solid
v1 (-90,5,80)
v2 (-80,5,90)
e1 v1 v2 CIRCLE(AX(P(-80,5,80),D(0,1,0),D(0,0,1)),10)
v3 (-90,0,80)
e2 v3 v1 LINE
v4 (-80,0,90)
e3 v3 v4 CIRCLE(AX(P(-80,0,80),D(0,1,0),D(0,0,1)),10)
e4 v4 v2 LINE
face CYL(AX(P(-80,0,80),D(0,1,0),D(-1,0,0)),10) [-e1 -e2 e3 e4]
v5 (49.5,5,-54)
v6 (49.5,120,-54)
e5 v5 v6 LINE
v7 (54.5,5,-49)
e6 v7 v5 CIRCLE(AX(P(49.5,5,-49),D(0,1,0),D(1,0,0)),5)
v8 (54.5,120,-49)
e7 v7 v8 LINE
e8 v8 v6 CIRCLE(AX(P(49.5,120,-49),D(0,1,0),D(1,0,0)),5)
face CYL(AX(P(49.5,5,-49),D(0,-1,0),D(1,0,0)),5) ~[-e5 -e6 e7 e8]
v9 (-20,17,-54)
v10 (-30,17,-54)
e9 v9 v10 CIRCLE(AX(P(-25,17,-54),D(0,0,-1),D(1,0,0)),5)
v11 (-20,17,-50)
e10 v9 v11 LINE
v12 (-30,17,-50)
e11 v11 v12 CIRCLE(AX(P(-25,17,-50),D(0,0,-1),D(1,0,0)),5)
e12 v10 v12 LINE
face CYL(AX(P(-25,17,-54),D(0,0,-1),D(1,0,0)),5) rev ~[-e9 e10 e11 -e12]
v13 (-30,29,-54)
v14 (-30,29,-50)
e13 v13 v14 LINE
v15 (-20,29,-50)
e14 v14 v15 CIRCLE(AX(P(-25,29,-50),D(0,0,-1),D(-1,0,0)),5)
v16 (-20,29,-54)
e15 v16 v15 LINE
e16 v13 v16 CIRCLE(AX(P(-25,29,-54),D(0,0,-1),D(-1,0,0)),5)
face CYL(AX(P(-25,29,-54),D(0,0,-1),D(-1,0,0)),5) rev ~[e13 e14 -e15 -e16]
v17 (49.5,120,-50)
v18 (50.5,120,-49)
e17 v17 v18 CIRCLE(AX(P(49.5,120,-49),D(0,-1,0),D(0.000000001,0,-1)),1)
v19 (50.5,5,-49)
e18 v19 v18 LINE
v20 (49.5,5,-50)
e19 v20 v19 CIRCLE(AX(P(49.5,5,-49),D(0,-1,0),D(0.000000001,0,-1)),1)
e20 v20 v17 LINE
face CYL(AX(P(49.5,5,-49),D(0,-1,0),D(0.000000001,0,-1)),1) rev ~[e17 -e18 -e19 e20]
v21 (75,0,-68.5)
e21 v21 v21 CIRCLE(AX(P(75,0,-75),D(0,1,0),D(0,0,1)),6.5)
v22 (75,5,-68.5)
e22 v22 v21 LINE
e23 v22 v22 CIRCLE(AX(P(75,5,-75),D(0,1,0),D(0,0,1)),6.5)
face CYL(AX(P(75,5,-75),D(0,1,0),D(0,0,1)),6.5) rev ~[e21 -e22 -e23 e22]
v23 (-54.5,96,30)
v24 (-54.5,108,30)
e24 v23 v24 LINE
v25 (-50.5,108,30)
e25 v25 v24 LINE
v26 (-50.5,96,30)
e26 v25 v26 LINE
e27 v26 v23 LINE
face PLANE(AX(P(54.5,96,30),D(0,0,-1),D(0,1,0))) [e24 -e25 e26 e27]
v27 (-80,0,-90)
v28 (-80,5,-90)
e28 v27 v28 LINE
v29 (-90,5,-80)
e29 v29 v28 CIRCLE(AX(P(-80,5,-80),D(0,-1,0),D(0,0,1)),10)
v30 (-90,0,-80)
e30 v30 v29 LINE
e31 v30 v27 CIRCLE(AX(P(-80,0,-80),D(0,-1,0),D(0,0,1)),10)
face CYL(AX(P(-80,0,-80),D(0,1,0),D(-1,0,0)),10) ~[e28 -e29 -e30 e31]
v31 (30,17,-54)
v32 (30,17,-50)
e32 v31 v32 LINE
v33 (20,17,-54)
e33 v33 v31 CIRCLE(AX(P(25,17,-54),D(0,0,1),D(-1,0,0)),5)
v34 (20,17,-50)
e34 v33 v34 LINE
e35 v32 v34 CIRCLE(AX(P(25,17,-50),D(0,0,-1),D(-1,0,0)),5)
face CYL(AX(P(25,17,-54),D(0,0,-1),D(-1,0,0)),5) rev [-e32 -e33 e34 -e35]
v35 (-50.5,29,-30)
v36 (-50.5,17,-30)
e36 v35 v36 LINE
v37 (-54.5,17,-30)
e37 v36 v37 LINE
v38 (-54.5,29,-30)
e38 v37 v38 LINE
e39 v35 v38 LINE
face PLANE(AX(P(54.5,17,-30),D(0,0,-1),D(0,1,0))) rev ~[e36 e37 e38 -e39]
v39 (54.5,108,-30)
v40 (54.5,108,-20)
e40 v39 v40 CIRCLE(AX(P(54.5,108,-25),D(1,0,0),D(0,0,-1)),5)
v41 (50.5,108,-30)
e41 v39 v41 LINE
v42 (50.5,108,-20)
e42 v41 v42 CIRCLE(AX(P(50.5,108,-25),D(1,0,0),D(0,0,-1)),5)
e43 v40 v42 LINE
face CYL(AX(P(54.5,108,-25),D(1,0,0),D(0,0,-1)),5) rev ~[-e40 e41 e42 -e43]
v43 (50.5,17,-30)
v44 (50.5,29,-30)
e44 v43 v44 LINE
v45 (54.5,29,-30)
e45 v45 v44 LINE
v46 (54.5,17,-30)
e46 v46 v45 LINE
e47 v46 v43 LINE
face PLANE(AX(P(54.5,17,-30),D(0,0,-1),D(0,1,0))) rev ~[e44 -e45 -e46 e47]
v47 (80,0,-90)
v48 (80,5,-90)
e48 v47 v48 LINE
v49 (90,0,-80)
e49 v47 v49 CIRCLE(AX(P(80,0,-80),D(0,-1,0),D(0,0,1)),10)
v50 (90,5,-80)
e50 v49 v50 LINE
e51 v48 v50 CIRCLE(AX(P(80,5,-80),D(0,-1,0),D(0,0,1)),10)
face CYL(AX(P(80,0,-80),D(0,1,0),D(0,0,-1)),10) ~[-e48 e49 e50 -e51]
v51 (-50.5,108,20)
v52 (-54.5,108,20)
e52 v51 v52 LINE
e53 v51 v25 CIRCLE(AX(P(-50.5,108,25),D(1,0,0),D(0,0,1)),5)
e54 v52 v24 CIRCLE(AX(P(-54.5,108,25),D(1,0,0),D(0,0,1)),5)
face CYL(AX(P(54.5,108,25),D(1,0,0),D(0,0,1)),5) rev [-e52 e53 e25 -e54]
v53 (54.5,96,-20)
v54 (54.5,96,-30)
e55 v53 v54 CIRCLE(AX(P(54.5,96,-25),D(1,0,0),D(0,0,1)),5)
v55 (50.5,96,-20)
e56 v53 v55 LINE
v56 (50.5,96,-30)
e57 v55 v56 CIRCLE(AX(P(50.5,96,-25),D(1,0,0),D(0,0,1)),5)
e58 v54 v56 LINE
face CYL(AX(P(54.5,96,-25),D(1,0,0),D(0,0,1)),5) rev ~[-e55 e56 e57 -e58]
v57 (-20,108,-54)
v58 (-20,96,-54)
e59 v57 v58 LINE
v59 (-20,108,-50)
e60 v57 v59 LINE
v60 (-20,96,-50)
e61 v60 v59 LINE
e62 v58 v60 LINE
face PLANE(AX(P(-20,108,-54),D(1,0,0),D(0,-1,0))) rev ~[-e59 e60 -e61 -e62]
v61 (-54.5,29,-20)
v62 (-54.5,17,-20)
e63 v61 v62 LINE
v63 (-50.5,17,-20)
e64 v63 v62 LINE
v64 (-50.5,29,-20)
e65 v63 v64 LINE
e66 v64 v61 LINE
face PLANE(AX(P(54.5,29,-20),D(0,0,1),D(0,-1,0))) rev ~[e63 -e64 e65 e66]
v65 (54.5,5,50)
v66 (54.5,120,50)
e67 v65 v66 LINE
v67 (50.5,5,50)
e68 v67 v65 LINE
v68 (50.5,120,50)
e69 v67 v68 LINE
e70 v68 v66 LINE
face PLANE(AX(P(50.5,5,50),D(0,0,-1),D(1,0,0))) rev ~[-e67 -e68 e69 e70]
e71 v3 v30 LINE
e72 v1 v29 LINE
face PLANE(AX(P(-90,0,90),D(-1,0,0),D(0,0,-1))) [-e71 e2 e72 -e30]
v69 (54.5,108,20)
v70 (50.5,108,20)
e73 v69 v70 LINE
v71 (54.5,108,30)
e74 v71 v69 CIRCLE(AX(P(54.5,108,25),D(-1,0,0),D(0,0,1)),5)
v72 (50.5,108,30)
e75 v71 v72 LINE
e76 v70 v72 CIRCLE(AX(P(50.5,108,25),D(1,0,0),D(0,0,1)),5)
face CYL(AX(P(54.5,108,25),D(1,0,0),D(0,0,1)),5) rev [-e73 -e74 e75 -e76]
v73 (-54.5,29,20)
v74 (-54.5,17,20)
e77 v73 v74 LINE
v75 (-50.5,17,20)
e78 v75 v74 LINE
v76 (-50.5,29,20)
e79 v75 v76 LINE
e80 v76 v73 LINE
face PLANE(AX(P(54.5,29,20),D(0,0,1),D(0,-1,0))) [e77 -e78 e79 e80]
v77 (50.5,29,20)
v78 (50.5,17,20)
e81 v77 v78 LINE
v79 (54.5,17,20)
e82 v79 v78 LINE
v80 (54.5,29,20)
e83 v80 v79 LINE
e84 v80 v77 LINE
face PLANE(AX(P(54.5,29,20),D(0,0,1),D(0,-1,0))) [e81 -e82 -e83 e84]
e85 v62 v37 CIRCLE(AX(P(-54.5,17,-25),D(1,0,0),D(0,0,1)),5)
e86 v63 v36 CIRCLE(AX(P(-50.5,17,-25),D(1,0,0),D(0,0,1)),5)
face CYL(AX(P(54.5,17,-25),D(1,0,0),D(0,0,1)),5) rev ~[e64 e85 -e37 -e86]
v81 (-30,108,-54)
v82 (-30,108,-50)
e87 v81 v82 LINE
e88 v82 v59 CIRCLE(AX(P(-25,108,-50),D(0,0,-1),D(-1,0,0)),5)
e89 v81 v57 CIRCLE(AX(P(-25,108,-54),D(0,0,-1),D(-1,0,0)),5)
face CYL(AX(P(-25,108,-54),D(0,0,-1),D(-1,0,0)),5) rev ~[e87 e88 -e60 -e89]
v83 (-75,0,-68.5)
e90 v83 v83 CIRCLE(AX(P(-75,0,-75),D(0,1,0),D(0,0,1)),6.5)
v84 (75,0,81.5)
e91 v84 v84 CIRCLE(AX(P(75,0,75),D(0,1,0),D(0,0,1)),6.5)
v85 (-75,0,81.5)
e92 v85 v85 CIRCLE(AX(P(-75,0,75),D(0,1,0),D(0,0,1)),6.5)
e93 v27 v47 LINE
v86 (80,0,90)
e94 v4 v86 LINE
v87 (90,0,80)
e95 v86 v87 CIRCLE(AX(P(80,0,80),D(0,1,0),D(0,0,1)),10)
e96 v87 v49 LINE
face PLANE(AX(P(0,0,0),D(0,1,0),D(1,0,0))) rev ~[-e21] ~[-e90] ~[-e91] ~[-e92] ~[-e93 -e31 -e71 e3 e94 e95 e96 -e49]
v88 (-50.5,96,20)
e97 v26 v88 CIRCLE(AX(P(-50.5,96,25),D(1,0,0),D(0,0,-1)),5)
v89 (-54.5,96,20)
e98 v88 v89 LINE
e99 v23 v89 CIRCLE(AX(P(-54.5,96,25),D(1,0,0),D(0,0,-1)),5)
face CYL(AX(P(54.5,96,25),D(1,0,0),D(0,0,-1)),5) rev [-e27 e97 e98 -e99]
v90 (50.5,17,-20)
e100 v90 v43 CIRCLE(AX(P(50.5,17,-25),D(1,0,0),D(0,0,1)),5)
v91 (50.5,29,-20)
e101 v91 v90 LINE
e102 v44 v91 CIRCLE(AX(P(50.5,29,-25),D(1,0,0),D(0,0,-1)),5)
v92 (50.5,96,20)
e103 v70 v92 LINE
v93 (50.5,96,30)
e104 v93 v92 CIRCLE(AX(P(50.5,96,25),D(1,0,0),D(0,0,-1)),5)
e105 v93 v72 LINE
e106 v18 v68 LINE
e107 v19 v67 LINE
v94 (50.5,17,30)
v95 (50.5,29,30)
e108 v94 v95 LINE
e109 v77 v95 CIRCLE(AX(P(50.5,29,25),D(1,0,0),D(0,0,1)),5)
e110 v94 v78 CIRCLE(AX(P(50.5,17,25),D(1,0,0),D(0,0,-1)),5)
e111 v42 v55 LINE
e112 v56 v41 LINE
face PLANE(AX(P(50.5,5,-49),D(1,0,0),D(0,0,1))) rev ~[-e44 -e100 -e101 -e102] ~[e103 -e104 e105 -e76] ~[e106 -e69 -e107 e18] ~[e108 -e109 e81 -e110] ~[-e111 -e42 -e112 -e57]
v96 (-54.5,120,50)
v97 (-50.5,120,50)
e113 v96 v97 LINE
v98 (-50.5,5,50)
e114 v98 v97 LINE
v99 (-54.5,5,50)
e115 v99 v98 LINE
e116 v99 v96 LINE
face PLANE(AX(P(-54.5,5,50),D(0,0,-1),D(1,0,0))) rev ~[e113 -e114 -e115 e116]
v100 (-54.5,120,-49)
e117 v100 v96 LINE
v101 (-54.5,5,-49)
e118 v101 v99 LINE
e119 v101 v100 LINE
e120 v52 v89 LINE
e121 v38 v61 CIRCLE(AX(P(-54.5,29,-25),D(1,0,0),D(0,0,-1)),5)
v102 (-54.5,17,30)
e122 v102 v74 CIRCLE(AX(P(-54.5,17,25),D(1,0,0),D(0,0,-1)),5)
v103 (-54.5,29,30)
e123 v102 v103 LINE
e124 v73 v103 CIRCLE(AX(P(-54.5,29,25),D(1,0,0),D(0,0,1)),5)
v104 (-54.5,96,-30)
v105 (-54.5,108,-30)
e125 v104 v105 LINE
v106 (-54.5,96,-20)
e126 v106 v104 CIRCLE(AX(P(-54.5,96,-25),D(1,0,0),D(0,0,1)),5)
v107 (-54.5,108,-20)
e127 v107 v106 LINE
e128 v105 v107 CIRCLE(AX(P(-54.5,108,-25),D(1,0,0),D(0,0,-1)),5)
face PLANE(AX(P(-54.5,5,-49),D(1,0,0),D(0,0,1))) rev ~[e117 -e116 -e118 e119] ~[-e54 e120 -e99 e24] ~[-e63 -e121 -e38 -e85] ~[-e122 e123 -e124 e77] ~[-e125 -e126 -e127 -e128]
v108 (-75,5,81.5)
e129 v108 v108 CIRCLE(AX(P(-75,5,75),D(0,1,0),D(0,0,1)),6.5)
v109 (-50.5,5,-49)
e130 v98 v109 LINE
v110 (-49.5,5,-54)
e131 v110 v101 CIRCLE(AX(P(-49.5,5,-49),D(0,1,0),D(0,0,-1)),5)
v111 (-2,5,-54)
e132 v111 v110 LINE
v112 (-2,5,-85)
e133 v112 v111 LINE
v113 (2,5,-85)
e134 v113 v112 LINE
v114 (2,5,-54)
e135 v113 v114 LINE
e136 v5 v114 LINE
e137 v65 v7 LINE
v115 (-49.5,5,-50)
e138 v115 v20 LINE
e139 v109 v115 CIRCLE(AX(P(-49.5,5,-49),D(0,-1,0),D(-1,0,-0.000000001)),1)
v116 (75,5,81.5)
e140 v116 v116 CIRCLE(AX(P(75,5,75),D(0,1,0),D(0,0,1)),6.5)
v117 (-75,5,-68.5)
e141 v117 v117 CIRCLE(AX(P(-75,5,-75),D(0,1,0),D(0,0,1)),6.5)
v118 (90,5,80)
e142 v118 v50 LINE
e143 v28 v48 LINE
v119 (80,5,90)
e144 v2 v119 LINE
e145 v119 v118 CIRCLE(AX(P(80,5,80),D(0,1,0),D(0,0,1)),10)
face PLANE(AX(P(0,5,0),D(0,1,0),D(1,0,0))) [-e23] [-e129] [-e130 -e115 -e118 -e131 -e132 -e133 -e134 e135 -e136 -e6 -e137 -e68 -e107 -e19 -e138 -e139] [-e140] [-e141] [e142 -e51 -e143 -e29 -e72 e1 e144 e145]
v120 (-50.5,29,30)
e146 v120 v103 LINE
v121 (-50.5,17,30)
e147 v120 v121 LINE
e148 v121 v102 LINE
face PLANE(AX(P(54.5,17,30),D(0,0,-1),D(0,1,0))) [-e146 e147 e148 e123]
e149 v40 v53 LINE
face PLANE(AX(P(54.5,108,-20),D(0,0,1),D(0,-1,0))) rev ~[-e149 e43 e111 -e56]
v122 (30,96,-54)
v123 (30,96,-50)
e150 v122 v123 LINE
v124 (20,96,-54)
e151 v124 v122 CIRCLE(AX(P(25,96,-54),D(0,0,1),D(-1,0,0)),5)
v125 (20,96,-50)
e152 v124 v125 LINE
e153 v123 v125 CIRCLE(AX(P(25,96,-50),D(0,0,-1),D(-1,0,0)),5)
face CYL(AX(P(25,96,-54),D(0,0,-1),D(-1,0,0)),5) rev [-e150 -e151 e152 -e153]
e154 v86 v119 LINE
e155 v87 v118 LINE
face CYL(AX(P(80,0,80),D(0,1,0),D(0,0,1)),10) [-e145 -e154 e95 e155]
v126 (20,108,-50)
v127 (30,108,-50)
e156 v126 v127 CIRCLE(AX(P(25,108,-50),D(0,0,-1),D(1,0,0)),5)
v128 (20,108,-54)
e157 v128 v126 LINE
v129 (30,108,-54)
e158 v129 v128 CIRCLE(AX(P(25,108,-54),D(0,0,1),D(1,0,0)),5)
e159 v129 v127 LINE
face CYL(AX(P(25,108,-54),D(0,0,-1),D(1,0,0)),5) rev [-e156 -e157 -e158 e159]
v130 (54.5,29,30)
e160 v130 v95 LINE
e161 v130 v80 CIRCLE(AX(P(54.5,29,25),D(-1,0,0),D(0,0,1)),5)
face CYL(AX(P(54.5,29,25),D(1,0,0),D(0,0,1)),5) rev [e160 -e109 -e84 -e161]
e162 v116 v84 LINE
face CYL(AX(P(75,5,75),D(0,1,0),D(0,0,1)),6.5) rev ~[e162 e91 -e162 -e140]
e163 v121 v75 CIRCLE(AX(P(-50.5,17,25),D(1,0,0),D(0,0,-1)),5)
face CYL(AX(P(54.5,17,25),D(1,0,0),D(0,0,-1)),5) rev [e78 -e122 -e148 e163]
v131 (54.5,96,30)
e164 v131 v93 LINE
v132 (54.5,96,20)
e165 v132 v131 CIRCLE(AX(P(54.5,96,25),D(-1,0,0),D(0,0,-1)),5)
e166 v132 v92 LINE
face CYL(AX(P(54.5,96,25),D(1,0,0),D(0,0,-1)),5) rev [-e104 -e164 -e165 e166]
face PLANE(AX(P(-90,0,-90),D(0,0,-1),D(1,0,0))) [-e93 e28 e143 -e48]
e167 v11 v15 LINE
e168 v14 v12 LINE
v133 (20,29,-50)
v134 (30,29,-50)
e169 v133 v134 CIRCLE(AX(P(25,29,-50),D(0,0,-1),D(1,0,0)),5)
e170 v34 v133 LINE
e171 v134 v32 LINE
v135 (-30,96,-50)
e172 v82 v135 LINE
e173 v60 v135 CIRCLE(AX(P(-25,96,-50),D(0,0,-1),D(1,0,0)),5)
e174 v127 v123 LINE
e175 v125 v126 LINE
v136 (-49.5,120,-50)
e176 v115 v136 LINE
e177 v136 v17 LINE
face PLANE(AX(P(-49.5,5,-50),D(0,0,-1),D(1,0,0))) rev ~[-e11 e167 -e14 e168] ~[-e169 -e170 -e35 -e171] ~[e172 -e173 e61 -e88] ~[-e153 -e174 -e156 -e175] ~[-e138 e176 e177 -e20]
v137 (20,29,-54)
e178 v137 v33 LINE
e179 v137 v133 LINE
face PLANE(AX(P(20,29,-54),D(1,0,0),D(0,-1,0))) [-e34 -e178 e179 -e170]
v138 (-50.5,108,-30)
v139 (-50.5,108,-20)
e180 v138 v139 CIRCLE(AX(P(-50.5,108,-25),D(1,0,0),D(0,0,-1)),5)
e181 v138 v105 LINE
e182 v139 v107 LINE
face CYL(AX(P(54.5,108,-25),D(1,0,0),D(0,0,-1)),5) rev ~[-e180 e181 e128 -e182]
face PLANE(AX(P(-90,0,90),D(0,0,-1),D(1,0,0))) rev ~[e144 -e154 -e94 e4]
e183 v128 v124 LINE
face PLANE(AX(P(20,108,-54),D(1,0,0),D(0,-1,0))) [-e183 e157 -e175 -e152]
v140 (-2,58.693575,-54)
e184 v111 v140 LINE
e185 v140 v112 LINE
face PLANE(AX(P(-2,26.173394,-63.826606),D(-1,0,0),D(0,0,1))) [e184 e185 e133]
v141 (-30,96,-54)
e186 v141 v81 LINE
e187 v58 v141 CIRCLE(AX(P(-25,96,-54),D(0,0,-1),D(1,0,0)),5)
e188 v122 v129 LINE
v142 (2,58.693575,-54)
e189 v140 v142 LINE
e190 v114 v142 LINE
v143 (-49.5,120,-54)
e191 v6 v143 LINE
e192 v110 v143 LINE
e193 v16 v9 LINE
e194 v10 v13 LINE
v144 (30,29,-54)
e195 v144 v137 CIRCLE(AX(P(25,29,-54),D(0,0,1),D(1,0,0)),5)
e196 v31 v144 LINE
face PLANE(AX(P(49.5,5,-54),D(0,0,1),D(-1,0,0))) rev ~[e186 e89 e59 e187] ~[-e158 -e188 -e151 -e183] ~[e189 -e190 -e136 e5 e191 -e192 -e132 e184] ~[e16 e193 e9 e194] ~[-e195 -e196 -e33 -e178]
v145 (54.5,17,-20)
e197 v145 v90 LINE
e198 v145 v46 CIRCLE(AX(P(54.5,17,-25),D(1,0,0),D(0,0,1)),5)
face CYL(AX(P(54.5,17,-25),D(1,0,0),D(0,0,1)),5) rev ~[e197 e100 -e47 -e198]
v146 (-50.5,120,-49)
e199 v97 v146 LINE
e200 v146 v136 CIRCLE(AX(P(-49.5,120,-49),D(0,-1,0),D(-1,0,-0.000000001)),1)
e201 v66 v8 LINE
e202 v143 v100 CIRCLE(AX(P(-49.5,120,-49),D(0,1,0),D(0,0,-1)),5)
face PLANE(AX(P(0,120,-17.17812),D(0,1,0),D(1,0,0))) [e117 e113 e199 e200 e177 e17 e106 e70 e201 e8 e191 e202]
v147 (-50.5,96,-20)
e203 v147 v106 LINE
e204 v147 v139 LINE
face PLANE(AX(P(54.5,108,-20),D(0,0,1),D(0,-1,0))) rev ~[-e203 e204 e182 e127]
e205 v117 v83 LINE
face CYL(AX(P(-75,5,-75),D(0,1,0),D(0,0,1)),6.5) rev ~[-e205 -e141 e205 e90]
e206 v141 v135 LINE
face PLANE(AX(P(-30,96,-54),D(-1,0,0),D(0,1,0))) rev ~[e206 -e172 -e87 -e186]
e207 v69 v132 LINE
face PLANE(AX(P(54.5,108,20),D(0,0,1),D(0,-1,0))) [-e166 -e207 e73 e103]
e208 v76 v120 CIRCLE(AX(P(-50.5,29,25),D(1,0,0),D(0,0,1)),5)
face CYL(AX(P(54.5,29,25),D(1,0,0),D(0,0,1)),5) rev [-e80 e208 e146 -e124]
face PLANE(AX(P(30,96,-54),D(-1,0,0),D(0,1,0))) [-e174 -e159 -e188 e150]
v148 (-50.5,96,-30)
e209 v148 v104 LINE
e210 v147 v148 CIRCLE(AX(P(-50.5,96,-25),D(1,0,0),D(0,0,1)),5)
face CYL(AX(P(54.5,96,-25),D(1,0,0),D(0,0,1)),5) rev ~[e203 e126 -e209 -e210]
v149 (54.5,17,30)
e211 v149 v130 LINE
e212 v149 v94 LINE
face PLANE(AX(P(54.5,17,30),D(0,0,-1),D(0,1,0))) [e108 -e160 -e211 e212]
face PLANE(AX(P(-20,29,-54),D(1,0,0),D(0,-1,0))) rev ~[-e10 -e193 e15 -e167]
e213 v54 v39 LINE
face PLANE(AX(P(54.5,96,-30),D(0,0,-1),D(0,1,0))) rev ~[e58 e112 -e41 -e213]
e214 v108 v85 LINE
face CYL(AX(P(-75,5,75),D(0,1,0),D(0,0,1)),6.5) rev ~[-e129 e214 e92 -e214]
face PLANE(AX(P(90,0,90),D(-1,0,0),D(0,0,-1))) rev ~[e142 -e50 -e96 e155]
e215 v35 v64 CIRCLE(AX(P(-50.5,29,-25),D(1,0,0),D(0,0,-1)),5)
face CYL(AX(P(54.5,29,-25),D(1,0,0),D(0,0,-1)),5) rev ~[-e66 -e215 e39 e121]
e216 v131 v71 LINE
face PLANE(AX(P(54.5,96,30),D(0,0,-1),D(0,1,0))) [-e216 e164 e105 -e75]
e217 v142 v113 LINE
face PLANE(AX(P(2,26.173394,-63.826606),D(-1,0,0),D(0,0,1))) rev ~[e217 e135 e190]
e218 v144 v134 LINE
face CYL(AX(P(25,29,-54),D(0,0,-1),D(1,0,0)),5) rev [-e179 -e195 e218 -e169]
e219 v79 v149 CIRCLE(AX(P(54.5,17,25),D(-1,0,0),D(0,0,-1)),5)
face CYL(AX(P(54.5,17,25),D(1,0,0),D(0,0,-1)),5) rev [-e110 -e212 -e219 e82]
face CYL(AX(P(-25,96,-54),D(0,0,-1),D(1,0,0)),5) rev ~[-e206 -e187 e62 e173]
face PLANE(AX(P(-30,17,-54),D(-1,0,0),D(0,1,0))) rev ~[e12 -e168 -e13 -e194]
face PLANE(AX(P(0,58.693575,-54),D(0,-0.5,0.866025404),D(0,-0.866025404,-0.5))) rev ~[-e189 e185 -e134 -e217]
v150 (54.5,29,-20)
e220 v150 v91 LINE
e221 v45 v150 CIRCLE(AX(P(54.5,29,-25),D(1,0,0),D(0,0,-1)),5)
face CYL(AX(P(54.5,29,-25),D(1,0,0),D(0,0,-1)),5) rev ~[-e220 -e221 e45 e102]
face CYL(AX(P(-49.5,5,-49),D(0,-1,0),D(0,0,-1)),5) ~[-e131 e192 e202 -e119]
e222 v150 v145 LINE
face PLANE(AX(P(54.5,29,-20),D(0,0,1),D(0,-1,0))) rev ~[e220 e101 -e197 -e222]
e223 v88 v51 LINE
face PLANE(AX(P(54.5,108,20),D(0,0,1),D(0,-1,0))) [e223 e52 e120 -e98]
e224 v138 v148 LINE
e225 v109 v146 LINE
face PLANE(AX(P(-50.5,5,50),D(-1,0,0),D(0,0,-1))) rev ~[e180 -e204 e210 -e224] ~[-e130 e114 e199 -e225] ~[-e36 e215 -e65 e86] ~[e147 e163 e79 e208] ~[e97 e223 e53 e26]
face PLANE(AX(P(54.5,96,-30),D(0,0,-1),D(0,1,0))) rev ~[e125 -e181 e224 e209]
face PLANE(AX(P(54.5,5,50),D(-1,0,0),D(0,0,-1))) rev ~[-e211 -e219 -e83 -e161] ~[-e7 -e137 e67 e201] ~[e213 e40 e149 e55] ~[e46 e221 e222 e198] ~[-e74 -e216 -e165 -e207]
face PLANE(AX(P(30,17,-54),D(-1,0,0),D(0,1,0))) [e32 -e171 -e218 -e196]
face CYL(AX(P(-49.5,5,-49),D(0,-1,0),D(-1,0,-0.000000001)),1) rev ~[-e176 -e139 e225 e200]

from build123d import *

# Parameters (mm, degrees)
SKETCH_2_W          = 180
SKETCH_2_H          = 180
EXTRUDE_1_DEPTH     = 5
EXTRUDE_1_2_DEPTH   = 115
EXTRUDE_2_DEPTH     = 2
CUT_EXTRUDE_1_DEPTH = 145.5
SKETCH_6_R          = 6.5
CUT_EXTRUDE_2_DEPTH = 6
FILLET_1_R          = 10
CUT_EXTRUDE_3_REACH = 146


with BuildPart() as part:
    # Эскиз2 → Extrude 1 (new body)
    with BuildSketch(Plane(origin=(0, 0, 0), x_dir=(1, 0, 0), z_dir=(0, 1, 0))):
        Rectangle(SKETCH_2_W, SKETCH_2_H)
    extrude(amount=EXTRUDE_1_DEPTH)

    # Эскиз3 → Extrude 1 2 (add)
    with BuildSketch(Plane(origin=(0, 5, 0), x_dir=(1, 0, 0), z_dir=(0, 1, 0))):
        with BuildLine():
            Line((-50.5, -50), (-50.5, 49))
            ThreePointArc((-50.5, 49), (-50.207106781, 49.707106781), (-49.5, 50))
            Line((-49.5, 50), (49.5, 50))
            ThreePointArc((49.5, 50), (50.207106781, 49.707106781), (50.5, 49))
            Line((50.5, 49), (50.5, -50))
            Line((50.5, -50), (54.5, -50))
            Line((54.5, -50), (54.5, 49))
            ThreePointArc((54.5, 49), (53.035533906, 52.535533906), (49.5, 54))
            Line((49.5, 54), (-49.5, 54))
            ThreePointArc((-49.5, 54), (-53.035533906, 52.535533906), (-54.5, 49))
            Line((-54.5, 49), (-54.5, -50))
            Line((-54.5, -50), (-50.5, -50))
        make_face()
    extrude(amount=EXTRUDE_1_2_DEPTH)

    # Эскиз4 → Бобышка-Вытянуть2 (add, symmetric)
    with BuildSketch(Plane(origin=(0, 0, 0), x_dir=(0, 0, -1), z_dir=(1, 0, 0))):
        Polygon((54, 58.693575035), (85, 5), (54, 5), align=None)
    extrude(amount=EXTRUDE_2_DEPTH, both=True)

    # Эскиз5 → Вырез-Вытянуть1 (cut, through all)
    with BuildSketch(Plane(origin=(54.5, 0, 0), x_dir=(0, 0, -1), z_dir=(1, 0, 0))):
        with BuildLine():
            Line((-20, 108), (-20, 96))
            ThreePointArc((-20, 96), (-25, 91), (-30, 96))
            Line((-30, 96), (-30, 108))
            ThreePointArc((-30, 108), (-25, 113), (-20, 108))
        make_face()
        with BuildLine():
            Line((-20, 29), (-20, 17))
            ThreePointArc((-20, 17), (-25, 12), (-30, 17))
            Line((-30, 17), (-30, 29))
            ThreePointArc((-30, 29), (-25, 34), (-20, 29))
        make_face()
        with BuildLine():
            Line((20, 108), (20, 96))
            ThreePointArc((20, 96), (25, 91), (30, 96))
            Line((30, 96), (30, 108))
            ThreePointArc((30, 108), (25, 113), (20, 108))
        make_face()
        with BuildLine():
            Line((20, 29), (20, 17))
            ThreePointArc((20, 17), (25, 12), (30, 17))
            Line((30, 17), (30, 29))
            ThreePointArc((30, 29), (25, 34), (20, 29))
        make_face()
    extrude(amount=-CUT_EXTRUDE_1_DEPTH, mode=Mode.SUBTRACT)

    # Эскиз6 → Вырез-Вытянуть2 (cut, through all)
    with BuildSketch(Plane(origin=(0, 5, 0), x_dir=(1, 0, 0), z_dir=(0, 1, 0))):
        with Locations(Location((-75, 75, 0), (0, 0, 270))):  # turned: the seam where the file's is
            Circle(SKETCH_6_R)
        with Locations(Location((-75, -75, 0), (0, 0, 270))):  # turned: the seam where the file's is
            Circle(SKETCH_6_R)
        with Locations(Location((75, 75, 0), (0, 0, 270))):  # turned: the seam where the file's is
            Circle(SKETCH_6_R)
        with Locations(Location((75, -75, 0), (0, 0, 270))):  # turned: the seam where the file's is
            Circle(SKETCH_6_R)
    extrude(amount=-CUT_EXTRUDE_2_DEPTH, mode=Mode.SUBTRACT)

    # Скругление1
    fillet_1_edges = [part.edges().sort_by_distance(p)[0] for p in [
        (90, 2.5, 90),
        (-90, 2.5, 90),
        (-90, 2.5, -90),
        (90, 2.5, -90),
    ]]
    fillet(fillet_1_edges, radius=FILLET_1_R)

    # Эскиз8 → Вырез-Вытянуть3 (cut, up to next)
    with BuildSketch(Plane(origin=(0, 0, -54), x_dir=(-1, 0, 0), z_dir=(0, 0, -1)), mode=Mode.PRIVATE) as cut_extrude_3_sk1:
        with BuildLine():
            Line((-20, 108), (-20, 96))
            ThreePointArc((-20, 96), (-25, 91), (-30, 96))
            Line((-30, 96), (-30, 108))
            ThreePointArc((-30, 108), (-25, 113), (-20, 108))
        make_face()
    cut_extrude_3_tool1 = extrude(cut_extrude_3_sk1.sketch, amount=-CUT_EXTRUDE_3_REACH, mode=Mode.PRIVATE) & part.part
    add(cut_extrude_3_tool1.solids().sort_by_distance((25, 102, -54))[0], mode=Mode.SUBTRACT)
    # Эскиз8 → Вырез-Вытянуть3 (cut, up to next)
    with BuildSketch(Plane(origin=(0, 0, -54), x_dir=(-1, 0, 0), z_dir=(0, 0, -1)), mode=Mode.PRIVATE) as cut_extrude_3_sk2:
        with BuildLine():
            Line((-20, 29), (-20, 17))
            ThreePointArc((-20, 17), (-25, 12), (-30, 17))
            Line((-30, 17), (-30, 29))
            ThreePointArc((-30, 29), (-25, 34), (-20, 29))
        make_face()
    cut_extrude_3_tool2 = extrude(cut_extrude_3_sk2.sketch, amount=-CUT_EXTRUDE_3_REACH, mode=Mode.PRIVATE) & part.part
    add(cut_extrude_3_tool2.solids().sort_by_distance((25, 23, -54))[0], mode=Mode.SUBTRACT)
    # Эскиз8 → Вырез-Вытянуть3 (cut, up to next)
    with BuildSketch(Plane(origin=(0, 0, -54), x_dir=(-1, 0, 0), z_dir=(0, 0, -1)), mode=Mode.PRIVATE) as cut_extrude_3_sk3:
        with BuildLine():
            Line((20, 108), (20, 96))
            ThreePointArc((20, 96), (25, 91), (30, 96))
            Line((30, 96), (30, 108))
            ThreePointArc((30, 108), (25, 113), (20, 108))
        make_face()
    cut_extrude_3_tool3 = extrude(cut_extrude_3_sk3.sketch, amount=-CUT_EXTRUDE_3_REACH, mode=Mode.PRIVATE) & part.part
    add(cut_extrude_3_tool3.solids().sort_by_distance((-25, 102, -54))[0], mode=Mode.SUBTRACT)
    # Эскиз8 → Вырез-Вытянуть3 (cut, up to next)
    with BuildSketch(Plane(origin=(0, 0, -54), x_dir=(-1, 0, 0), z_dir=(0, 0, -1)), mode=Mode.PRIVATE) as cut_extrude_3_sk4:
        with BuildLine():
            Line((20, 29), (20, 17))
            ThreePointArc((20, 17), (25, 12), (30, 17))
            Line((30, 17), (30, 29))
            ThreePointArc((30, 29), (25, 34), (20, 29))
        make_face()
    cut_extrude_3_tool4 = extrude(cut_extrude_3_sk4.sketch, amount=-CUT_EXTRUDE_3_REACH, mode=Mode.PRIVATE) & part.part
    add(cut_extrude_3_tool4.solids().sort_by_distance((-25, 23, -54))[0], mode=Mode.SUBTRACT)


solid = part.part
